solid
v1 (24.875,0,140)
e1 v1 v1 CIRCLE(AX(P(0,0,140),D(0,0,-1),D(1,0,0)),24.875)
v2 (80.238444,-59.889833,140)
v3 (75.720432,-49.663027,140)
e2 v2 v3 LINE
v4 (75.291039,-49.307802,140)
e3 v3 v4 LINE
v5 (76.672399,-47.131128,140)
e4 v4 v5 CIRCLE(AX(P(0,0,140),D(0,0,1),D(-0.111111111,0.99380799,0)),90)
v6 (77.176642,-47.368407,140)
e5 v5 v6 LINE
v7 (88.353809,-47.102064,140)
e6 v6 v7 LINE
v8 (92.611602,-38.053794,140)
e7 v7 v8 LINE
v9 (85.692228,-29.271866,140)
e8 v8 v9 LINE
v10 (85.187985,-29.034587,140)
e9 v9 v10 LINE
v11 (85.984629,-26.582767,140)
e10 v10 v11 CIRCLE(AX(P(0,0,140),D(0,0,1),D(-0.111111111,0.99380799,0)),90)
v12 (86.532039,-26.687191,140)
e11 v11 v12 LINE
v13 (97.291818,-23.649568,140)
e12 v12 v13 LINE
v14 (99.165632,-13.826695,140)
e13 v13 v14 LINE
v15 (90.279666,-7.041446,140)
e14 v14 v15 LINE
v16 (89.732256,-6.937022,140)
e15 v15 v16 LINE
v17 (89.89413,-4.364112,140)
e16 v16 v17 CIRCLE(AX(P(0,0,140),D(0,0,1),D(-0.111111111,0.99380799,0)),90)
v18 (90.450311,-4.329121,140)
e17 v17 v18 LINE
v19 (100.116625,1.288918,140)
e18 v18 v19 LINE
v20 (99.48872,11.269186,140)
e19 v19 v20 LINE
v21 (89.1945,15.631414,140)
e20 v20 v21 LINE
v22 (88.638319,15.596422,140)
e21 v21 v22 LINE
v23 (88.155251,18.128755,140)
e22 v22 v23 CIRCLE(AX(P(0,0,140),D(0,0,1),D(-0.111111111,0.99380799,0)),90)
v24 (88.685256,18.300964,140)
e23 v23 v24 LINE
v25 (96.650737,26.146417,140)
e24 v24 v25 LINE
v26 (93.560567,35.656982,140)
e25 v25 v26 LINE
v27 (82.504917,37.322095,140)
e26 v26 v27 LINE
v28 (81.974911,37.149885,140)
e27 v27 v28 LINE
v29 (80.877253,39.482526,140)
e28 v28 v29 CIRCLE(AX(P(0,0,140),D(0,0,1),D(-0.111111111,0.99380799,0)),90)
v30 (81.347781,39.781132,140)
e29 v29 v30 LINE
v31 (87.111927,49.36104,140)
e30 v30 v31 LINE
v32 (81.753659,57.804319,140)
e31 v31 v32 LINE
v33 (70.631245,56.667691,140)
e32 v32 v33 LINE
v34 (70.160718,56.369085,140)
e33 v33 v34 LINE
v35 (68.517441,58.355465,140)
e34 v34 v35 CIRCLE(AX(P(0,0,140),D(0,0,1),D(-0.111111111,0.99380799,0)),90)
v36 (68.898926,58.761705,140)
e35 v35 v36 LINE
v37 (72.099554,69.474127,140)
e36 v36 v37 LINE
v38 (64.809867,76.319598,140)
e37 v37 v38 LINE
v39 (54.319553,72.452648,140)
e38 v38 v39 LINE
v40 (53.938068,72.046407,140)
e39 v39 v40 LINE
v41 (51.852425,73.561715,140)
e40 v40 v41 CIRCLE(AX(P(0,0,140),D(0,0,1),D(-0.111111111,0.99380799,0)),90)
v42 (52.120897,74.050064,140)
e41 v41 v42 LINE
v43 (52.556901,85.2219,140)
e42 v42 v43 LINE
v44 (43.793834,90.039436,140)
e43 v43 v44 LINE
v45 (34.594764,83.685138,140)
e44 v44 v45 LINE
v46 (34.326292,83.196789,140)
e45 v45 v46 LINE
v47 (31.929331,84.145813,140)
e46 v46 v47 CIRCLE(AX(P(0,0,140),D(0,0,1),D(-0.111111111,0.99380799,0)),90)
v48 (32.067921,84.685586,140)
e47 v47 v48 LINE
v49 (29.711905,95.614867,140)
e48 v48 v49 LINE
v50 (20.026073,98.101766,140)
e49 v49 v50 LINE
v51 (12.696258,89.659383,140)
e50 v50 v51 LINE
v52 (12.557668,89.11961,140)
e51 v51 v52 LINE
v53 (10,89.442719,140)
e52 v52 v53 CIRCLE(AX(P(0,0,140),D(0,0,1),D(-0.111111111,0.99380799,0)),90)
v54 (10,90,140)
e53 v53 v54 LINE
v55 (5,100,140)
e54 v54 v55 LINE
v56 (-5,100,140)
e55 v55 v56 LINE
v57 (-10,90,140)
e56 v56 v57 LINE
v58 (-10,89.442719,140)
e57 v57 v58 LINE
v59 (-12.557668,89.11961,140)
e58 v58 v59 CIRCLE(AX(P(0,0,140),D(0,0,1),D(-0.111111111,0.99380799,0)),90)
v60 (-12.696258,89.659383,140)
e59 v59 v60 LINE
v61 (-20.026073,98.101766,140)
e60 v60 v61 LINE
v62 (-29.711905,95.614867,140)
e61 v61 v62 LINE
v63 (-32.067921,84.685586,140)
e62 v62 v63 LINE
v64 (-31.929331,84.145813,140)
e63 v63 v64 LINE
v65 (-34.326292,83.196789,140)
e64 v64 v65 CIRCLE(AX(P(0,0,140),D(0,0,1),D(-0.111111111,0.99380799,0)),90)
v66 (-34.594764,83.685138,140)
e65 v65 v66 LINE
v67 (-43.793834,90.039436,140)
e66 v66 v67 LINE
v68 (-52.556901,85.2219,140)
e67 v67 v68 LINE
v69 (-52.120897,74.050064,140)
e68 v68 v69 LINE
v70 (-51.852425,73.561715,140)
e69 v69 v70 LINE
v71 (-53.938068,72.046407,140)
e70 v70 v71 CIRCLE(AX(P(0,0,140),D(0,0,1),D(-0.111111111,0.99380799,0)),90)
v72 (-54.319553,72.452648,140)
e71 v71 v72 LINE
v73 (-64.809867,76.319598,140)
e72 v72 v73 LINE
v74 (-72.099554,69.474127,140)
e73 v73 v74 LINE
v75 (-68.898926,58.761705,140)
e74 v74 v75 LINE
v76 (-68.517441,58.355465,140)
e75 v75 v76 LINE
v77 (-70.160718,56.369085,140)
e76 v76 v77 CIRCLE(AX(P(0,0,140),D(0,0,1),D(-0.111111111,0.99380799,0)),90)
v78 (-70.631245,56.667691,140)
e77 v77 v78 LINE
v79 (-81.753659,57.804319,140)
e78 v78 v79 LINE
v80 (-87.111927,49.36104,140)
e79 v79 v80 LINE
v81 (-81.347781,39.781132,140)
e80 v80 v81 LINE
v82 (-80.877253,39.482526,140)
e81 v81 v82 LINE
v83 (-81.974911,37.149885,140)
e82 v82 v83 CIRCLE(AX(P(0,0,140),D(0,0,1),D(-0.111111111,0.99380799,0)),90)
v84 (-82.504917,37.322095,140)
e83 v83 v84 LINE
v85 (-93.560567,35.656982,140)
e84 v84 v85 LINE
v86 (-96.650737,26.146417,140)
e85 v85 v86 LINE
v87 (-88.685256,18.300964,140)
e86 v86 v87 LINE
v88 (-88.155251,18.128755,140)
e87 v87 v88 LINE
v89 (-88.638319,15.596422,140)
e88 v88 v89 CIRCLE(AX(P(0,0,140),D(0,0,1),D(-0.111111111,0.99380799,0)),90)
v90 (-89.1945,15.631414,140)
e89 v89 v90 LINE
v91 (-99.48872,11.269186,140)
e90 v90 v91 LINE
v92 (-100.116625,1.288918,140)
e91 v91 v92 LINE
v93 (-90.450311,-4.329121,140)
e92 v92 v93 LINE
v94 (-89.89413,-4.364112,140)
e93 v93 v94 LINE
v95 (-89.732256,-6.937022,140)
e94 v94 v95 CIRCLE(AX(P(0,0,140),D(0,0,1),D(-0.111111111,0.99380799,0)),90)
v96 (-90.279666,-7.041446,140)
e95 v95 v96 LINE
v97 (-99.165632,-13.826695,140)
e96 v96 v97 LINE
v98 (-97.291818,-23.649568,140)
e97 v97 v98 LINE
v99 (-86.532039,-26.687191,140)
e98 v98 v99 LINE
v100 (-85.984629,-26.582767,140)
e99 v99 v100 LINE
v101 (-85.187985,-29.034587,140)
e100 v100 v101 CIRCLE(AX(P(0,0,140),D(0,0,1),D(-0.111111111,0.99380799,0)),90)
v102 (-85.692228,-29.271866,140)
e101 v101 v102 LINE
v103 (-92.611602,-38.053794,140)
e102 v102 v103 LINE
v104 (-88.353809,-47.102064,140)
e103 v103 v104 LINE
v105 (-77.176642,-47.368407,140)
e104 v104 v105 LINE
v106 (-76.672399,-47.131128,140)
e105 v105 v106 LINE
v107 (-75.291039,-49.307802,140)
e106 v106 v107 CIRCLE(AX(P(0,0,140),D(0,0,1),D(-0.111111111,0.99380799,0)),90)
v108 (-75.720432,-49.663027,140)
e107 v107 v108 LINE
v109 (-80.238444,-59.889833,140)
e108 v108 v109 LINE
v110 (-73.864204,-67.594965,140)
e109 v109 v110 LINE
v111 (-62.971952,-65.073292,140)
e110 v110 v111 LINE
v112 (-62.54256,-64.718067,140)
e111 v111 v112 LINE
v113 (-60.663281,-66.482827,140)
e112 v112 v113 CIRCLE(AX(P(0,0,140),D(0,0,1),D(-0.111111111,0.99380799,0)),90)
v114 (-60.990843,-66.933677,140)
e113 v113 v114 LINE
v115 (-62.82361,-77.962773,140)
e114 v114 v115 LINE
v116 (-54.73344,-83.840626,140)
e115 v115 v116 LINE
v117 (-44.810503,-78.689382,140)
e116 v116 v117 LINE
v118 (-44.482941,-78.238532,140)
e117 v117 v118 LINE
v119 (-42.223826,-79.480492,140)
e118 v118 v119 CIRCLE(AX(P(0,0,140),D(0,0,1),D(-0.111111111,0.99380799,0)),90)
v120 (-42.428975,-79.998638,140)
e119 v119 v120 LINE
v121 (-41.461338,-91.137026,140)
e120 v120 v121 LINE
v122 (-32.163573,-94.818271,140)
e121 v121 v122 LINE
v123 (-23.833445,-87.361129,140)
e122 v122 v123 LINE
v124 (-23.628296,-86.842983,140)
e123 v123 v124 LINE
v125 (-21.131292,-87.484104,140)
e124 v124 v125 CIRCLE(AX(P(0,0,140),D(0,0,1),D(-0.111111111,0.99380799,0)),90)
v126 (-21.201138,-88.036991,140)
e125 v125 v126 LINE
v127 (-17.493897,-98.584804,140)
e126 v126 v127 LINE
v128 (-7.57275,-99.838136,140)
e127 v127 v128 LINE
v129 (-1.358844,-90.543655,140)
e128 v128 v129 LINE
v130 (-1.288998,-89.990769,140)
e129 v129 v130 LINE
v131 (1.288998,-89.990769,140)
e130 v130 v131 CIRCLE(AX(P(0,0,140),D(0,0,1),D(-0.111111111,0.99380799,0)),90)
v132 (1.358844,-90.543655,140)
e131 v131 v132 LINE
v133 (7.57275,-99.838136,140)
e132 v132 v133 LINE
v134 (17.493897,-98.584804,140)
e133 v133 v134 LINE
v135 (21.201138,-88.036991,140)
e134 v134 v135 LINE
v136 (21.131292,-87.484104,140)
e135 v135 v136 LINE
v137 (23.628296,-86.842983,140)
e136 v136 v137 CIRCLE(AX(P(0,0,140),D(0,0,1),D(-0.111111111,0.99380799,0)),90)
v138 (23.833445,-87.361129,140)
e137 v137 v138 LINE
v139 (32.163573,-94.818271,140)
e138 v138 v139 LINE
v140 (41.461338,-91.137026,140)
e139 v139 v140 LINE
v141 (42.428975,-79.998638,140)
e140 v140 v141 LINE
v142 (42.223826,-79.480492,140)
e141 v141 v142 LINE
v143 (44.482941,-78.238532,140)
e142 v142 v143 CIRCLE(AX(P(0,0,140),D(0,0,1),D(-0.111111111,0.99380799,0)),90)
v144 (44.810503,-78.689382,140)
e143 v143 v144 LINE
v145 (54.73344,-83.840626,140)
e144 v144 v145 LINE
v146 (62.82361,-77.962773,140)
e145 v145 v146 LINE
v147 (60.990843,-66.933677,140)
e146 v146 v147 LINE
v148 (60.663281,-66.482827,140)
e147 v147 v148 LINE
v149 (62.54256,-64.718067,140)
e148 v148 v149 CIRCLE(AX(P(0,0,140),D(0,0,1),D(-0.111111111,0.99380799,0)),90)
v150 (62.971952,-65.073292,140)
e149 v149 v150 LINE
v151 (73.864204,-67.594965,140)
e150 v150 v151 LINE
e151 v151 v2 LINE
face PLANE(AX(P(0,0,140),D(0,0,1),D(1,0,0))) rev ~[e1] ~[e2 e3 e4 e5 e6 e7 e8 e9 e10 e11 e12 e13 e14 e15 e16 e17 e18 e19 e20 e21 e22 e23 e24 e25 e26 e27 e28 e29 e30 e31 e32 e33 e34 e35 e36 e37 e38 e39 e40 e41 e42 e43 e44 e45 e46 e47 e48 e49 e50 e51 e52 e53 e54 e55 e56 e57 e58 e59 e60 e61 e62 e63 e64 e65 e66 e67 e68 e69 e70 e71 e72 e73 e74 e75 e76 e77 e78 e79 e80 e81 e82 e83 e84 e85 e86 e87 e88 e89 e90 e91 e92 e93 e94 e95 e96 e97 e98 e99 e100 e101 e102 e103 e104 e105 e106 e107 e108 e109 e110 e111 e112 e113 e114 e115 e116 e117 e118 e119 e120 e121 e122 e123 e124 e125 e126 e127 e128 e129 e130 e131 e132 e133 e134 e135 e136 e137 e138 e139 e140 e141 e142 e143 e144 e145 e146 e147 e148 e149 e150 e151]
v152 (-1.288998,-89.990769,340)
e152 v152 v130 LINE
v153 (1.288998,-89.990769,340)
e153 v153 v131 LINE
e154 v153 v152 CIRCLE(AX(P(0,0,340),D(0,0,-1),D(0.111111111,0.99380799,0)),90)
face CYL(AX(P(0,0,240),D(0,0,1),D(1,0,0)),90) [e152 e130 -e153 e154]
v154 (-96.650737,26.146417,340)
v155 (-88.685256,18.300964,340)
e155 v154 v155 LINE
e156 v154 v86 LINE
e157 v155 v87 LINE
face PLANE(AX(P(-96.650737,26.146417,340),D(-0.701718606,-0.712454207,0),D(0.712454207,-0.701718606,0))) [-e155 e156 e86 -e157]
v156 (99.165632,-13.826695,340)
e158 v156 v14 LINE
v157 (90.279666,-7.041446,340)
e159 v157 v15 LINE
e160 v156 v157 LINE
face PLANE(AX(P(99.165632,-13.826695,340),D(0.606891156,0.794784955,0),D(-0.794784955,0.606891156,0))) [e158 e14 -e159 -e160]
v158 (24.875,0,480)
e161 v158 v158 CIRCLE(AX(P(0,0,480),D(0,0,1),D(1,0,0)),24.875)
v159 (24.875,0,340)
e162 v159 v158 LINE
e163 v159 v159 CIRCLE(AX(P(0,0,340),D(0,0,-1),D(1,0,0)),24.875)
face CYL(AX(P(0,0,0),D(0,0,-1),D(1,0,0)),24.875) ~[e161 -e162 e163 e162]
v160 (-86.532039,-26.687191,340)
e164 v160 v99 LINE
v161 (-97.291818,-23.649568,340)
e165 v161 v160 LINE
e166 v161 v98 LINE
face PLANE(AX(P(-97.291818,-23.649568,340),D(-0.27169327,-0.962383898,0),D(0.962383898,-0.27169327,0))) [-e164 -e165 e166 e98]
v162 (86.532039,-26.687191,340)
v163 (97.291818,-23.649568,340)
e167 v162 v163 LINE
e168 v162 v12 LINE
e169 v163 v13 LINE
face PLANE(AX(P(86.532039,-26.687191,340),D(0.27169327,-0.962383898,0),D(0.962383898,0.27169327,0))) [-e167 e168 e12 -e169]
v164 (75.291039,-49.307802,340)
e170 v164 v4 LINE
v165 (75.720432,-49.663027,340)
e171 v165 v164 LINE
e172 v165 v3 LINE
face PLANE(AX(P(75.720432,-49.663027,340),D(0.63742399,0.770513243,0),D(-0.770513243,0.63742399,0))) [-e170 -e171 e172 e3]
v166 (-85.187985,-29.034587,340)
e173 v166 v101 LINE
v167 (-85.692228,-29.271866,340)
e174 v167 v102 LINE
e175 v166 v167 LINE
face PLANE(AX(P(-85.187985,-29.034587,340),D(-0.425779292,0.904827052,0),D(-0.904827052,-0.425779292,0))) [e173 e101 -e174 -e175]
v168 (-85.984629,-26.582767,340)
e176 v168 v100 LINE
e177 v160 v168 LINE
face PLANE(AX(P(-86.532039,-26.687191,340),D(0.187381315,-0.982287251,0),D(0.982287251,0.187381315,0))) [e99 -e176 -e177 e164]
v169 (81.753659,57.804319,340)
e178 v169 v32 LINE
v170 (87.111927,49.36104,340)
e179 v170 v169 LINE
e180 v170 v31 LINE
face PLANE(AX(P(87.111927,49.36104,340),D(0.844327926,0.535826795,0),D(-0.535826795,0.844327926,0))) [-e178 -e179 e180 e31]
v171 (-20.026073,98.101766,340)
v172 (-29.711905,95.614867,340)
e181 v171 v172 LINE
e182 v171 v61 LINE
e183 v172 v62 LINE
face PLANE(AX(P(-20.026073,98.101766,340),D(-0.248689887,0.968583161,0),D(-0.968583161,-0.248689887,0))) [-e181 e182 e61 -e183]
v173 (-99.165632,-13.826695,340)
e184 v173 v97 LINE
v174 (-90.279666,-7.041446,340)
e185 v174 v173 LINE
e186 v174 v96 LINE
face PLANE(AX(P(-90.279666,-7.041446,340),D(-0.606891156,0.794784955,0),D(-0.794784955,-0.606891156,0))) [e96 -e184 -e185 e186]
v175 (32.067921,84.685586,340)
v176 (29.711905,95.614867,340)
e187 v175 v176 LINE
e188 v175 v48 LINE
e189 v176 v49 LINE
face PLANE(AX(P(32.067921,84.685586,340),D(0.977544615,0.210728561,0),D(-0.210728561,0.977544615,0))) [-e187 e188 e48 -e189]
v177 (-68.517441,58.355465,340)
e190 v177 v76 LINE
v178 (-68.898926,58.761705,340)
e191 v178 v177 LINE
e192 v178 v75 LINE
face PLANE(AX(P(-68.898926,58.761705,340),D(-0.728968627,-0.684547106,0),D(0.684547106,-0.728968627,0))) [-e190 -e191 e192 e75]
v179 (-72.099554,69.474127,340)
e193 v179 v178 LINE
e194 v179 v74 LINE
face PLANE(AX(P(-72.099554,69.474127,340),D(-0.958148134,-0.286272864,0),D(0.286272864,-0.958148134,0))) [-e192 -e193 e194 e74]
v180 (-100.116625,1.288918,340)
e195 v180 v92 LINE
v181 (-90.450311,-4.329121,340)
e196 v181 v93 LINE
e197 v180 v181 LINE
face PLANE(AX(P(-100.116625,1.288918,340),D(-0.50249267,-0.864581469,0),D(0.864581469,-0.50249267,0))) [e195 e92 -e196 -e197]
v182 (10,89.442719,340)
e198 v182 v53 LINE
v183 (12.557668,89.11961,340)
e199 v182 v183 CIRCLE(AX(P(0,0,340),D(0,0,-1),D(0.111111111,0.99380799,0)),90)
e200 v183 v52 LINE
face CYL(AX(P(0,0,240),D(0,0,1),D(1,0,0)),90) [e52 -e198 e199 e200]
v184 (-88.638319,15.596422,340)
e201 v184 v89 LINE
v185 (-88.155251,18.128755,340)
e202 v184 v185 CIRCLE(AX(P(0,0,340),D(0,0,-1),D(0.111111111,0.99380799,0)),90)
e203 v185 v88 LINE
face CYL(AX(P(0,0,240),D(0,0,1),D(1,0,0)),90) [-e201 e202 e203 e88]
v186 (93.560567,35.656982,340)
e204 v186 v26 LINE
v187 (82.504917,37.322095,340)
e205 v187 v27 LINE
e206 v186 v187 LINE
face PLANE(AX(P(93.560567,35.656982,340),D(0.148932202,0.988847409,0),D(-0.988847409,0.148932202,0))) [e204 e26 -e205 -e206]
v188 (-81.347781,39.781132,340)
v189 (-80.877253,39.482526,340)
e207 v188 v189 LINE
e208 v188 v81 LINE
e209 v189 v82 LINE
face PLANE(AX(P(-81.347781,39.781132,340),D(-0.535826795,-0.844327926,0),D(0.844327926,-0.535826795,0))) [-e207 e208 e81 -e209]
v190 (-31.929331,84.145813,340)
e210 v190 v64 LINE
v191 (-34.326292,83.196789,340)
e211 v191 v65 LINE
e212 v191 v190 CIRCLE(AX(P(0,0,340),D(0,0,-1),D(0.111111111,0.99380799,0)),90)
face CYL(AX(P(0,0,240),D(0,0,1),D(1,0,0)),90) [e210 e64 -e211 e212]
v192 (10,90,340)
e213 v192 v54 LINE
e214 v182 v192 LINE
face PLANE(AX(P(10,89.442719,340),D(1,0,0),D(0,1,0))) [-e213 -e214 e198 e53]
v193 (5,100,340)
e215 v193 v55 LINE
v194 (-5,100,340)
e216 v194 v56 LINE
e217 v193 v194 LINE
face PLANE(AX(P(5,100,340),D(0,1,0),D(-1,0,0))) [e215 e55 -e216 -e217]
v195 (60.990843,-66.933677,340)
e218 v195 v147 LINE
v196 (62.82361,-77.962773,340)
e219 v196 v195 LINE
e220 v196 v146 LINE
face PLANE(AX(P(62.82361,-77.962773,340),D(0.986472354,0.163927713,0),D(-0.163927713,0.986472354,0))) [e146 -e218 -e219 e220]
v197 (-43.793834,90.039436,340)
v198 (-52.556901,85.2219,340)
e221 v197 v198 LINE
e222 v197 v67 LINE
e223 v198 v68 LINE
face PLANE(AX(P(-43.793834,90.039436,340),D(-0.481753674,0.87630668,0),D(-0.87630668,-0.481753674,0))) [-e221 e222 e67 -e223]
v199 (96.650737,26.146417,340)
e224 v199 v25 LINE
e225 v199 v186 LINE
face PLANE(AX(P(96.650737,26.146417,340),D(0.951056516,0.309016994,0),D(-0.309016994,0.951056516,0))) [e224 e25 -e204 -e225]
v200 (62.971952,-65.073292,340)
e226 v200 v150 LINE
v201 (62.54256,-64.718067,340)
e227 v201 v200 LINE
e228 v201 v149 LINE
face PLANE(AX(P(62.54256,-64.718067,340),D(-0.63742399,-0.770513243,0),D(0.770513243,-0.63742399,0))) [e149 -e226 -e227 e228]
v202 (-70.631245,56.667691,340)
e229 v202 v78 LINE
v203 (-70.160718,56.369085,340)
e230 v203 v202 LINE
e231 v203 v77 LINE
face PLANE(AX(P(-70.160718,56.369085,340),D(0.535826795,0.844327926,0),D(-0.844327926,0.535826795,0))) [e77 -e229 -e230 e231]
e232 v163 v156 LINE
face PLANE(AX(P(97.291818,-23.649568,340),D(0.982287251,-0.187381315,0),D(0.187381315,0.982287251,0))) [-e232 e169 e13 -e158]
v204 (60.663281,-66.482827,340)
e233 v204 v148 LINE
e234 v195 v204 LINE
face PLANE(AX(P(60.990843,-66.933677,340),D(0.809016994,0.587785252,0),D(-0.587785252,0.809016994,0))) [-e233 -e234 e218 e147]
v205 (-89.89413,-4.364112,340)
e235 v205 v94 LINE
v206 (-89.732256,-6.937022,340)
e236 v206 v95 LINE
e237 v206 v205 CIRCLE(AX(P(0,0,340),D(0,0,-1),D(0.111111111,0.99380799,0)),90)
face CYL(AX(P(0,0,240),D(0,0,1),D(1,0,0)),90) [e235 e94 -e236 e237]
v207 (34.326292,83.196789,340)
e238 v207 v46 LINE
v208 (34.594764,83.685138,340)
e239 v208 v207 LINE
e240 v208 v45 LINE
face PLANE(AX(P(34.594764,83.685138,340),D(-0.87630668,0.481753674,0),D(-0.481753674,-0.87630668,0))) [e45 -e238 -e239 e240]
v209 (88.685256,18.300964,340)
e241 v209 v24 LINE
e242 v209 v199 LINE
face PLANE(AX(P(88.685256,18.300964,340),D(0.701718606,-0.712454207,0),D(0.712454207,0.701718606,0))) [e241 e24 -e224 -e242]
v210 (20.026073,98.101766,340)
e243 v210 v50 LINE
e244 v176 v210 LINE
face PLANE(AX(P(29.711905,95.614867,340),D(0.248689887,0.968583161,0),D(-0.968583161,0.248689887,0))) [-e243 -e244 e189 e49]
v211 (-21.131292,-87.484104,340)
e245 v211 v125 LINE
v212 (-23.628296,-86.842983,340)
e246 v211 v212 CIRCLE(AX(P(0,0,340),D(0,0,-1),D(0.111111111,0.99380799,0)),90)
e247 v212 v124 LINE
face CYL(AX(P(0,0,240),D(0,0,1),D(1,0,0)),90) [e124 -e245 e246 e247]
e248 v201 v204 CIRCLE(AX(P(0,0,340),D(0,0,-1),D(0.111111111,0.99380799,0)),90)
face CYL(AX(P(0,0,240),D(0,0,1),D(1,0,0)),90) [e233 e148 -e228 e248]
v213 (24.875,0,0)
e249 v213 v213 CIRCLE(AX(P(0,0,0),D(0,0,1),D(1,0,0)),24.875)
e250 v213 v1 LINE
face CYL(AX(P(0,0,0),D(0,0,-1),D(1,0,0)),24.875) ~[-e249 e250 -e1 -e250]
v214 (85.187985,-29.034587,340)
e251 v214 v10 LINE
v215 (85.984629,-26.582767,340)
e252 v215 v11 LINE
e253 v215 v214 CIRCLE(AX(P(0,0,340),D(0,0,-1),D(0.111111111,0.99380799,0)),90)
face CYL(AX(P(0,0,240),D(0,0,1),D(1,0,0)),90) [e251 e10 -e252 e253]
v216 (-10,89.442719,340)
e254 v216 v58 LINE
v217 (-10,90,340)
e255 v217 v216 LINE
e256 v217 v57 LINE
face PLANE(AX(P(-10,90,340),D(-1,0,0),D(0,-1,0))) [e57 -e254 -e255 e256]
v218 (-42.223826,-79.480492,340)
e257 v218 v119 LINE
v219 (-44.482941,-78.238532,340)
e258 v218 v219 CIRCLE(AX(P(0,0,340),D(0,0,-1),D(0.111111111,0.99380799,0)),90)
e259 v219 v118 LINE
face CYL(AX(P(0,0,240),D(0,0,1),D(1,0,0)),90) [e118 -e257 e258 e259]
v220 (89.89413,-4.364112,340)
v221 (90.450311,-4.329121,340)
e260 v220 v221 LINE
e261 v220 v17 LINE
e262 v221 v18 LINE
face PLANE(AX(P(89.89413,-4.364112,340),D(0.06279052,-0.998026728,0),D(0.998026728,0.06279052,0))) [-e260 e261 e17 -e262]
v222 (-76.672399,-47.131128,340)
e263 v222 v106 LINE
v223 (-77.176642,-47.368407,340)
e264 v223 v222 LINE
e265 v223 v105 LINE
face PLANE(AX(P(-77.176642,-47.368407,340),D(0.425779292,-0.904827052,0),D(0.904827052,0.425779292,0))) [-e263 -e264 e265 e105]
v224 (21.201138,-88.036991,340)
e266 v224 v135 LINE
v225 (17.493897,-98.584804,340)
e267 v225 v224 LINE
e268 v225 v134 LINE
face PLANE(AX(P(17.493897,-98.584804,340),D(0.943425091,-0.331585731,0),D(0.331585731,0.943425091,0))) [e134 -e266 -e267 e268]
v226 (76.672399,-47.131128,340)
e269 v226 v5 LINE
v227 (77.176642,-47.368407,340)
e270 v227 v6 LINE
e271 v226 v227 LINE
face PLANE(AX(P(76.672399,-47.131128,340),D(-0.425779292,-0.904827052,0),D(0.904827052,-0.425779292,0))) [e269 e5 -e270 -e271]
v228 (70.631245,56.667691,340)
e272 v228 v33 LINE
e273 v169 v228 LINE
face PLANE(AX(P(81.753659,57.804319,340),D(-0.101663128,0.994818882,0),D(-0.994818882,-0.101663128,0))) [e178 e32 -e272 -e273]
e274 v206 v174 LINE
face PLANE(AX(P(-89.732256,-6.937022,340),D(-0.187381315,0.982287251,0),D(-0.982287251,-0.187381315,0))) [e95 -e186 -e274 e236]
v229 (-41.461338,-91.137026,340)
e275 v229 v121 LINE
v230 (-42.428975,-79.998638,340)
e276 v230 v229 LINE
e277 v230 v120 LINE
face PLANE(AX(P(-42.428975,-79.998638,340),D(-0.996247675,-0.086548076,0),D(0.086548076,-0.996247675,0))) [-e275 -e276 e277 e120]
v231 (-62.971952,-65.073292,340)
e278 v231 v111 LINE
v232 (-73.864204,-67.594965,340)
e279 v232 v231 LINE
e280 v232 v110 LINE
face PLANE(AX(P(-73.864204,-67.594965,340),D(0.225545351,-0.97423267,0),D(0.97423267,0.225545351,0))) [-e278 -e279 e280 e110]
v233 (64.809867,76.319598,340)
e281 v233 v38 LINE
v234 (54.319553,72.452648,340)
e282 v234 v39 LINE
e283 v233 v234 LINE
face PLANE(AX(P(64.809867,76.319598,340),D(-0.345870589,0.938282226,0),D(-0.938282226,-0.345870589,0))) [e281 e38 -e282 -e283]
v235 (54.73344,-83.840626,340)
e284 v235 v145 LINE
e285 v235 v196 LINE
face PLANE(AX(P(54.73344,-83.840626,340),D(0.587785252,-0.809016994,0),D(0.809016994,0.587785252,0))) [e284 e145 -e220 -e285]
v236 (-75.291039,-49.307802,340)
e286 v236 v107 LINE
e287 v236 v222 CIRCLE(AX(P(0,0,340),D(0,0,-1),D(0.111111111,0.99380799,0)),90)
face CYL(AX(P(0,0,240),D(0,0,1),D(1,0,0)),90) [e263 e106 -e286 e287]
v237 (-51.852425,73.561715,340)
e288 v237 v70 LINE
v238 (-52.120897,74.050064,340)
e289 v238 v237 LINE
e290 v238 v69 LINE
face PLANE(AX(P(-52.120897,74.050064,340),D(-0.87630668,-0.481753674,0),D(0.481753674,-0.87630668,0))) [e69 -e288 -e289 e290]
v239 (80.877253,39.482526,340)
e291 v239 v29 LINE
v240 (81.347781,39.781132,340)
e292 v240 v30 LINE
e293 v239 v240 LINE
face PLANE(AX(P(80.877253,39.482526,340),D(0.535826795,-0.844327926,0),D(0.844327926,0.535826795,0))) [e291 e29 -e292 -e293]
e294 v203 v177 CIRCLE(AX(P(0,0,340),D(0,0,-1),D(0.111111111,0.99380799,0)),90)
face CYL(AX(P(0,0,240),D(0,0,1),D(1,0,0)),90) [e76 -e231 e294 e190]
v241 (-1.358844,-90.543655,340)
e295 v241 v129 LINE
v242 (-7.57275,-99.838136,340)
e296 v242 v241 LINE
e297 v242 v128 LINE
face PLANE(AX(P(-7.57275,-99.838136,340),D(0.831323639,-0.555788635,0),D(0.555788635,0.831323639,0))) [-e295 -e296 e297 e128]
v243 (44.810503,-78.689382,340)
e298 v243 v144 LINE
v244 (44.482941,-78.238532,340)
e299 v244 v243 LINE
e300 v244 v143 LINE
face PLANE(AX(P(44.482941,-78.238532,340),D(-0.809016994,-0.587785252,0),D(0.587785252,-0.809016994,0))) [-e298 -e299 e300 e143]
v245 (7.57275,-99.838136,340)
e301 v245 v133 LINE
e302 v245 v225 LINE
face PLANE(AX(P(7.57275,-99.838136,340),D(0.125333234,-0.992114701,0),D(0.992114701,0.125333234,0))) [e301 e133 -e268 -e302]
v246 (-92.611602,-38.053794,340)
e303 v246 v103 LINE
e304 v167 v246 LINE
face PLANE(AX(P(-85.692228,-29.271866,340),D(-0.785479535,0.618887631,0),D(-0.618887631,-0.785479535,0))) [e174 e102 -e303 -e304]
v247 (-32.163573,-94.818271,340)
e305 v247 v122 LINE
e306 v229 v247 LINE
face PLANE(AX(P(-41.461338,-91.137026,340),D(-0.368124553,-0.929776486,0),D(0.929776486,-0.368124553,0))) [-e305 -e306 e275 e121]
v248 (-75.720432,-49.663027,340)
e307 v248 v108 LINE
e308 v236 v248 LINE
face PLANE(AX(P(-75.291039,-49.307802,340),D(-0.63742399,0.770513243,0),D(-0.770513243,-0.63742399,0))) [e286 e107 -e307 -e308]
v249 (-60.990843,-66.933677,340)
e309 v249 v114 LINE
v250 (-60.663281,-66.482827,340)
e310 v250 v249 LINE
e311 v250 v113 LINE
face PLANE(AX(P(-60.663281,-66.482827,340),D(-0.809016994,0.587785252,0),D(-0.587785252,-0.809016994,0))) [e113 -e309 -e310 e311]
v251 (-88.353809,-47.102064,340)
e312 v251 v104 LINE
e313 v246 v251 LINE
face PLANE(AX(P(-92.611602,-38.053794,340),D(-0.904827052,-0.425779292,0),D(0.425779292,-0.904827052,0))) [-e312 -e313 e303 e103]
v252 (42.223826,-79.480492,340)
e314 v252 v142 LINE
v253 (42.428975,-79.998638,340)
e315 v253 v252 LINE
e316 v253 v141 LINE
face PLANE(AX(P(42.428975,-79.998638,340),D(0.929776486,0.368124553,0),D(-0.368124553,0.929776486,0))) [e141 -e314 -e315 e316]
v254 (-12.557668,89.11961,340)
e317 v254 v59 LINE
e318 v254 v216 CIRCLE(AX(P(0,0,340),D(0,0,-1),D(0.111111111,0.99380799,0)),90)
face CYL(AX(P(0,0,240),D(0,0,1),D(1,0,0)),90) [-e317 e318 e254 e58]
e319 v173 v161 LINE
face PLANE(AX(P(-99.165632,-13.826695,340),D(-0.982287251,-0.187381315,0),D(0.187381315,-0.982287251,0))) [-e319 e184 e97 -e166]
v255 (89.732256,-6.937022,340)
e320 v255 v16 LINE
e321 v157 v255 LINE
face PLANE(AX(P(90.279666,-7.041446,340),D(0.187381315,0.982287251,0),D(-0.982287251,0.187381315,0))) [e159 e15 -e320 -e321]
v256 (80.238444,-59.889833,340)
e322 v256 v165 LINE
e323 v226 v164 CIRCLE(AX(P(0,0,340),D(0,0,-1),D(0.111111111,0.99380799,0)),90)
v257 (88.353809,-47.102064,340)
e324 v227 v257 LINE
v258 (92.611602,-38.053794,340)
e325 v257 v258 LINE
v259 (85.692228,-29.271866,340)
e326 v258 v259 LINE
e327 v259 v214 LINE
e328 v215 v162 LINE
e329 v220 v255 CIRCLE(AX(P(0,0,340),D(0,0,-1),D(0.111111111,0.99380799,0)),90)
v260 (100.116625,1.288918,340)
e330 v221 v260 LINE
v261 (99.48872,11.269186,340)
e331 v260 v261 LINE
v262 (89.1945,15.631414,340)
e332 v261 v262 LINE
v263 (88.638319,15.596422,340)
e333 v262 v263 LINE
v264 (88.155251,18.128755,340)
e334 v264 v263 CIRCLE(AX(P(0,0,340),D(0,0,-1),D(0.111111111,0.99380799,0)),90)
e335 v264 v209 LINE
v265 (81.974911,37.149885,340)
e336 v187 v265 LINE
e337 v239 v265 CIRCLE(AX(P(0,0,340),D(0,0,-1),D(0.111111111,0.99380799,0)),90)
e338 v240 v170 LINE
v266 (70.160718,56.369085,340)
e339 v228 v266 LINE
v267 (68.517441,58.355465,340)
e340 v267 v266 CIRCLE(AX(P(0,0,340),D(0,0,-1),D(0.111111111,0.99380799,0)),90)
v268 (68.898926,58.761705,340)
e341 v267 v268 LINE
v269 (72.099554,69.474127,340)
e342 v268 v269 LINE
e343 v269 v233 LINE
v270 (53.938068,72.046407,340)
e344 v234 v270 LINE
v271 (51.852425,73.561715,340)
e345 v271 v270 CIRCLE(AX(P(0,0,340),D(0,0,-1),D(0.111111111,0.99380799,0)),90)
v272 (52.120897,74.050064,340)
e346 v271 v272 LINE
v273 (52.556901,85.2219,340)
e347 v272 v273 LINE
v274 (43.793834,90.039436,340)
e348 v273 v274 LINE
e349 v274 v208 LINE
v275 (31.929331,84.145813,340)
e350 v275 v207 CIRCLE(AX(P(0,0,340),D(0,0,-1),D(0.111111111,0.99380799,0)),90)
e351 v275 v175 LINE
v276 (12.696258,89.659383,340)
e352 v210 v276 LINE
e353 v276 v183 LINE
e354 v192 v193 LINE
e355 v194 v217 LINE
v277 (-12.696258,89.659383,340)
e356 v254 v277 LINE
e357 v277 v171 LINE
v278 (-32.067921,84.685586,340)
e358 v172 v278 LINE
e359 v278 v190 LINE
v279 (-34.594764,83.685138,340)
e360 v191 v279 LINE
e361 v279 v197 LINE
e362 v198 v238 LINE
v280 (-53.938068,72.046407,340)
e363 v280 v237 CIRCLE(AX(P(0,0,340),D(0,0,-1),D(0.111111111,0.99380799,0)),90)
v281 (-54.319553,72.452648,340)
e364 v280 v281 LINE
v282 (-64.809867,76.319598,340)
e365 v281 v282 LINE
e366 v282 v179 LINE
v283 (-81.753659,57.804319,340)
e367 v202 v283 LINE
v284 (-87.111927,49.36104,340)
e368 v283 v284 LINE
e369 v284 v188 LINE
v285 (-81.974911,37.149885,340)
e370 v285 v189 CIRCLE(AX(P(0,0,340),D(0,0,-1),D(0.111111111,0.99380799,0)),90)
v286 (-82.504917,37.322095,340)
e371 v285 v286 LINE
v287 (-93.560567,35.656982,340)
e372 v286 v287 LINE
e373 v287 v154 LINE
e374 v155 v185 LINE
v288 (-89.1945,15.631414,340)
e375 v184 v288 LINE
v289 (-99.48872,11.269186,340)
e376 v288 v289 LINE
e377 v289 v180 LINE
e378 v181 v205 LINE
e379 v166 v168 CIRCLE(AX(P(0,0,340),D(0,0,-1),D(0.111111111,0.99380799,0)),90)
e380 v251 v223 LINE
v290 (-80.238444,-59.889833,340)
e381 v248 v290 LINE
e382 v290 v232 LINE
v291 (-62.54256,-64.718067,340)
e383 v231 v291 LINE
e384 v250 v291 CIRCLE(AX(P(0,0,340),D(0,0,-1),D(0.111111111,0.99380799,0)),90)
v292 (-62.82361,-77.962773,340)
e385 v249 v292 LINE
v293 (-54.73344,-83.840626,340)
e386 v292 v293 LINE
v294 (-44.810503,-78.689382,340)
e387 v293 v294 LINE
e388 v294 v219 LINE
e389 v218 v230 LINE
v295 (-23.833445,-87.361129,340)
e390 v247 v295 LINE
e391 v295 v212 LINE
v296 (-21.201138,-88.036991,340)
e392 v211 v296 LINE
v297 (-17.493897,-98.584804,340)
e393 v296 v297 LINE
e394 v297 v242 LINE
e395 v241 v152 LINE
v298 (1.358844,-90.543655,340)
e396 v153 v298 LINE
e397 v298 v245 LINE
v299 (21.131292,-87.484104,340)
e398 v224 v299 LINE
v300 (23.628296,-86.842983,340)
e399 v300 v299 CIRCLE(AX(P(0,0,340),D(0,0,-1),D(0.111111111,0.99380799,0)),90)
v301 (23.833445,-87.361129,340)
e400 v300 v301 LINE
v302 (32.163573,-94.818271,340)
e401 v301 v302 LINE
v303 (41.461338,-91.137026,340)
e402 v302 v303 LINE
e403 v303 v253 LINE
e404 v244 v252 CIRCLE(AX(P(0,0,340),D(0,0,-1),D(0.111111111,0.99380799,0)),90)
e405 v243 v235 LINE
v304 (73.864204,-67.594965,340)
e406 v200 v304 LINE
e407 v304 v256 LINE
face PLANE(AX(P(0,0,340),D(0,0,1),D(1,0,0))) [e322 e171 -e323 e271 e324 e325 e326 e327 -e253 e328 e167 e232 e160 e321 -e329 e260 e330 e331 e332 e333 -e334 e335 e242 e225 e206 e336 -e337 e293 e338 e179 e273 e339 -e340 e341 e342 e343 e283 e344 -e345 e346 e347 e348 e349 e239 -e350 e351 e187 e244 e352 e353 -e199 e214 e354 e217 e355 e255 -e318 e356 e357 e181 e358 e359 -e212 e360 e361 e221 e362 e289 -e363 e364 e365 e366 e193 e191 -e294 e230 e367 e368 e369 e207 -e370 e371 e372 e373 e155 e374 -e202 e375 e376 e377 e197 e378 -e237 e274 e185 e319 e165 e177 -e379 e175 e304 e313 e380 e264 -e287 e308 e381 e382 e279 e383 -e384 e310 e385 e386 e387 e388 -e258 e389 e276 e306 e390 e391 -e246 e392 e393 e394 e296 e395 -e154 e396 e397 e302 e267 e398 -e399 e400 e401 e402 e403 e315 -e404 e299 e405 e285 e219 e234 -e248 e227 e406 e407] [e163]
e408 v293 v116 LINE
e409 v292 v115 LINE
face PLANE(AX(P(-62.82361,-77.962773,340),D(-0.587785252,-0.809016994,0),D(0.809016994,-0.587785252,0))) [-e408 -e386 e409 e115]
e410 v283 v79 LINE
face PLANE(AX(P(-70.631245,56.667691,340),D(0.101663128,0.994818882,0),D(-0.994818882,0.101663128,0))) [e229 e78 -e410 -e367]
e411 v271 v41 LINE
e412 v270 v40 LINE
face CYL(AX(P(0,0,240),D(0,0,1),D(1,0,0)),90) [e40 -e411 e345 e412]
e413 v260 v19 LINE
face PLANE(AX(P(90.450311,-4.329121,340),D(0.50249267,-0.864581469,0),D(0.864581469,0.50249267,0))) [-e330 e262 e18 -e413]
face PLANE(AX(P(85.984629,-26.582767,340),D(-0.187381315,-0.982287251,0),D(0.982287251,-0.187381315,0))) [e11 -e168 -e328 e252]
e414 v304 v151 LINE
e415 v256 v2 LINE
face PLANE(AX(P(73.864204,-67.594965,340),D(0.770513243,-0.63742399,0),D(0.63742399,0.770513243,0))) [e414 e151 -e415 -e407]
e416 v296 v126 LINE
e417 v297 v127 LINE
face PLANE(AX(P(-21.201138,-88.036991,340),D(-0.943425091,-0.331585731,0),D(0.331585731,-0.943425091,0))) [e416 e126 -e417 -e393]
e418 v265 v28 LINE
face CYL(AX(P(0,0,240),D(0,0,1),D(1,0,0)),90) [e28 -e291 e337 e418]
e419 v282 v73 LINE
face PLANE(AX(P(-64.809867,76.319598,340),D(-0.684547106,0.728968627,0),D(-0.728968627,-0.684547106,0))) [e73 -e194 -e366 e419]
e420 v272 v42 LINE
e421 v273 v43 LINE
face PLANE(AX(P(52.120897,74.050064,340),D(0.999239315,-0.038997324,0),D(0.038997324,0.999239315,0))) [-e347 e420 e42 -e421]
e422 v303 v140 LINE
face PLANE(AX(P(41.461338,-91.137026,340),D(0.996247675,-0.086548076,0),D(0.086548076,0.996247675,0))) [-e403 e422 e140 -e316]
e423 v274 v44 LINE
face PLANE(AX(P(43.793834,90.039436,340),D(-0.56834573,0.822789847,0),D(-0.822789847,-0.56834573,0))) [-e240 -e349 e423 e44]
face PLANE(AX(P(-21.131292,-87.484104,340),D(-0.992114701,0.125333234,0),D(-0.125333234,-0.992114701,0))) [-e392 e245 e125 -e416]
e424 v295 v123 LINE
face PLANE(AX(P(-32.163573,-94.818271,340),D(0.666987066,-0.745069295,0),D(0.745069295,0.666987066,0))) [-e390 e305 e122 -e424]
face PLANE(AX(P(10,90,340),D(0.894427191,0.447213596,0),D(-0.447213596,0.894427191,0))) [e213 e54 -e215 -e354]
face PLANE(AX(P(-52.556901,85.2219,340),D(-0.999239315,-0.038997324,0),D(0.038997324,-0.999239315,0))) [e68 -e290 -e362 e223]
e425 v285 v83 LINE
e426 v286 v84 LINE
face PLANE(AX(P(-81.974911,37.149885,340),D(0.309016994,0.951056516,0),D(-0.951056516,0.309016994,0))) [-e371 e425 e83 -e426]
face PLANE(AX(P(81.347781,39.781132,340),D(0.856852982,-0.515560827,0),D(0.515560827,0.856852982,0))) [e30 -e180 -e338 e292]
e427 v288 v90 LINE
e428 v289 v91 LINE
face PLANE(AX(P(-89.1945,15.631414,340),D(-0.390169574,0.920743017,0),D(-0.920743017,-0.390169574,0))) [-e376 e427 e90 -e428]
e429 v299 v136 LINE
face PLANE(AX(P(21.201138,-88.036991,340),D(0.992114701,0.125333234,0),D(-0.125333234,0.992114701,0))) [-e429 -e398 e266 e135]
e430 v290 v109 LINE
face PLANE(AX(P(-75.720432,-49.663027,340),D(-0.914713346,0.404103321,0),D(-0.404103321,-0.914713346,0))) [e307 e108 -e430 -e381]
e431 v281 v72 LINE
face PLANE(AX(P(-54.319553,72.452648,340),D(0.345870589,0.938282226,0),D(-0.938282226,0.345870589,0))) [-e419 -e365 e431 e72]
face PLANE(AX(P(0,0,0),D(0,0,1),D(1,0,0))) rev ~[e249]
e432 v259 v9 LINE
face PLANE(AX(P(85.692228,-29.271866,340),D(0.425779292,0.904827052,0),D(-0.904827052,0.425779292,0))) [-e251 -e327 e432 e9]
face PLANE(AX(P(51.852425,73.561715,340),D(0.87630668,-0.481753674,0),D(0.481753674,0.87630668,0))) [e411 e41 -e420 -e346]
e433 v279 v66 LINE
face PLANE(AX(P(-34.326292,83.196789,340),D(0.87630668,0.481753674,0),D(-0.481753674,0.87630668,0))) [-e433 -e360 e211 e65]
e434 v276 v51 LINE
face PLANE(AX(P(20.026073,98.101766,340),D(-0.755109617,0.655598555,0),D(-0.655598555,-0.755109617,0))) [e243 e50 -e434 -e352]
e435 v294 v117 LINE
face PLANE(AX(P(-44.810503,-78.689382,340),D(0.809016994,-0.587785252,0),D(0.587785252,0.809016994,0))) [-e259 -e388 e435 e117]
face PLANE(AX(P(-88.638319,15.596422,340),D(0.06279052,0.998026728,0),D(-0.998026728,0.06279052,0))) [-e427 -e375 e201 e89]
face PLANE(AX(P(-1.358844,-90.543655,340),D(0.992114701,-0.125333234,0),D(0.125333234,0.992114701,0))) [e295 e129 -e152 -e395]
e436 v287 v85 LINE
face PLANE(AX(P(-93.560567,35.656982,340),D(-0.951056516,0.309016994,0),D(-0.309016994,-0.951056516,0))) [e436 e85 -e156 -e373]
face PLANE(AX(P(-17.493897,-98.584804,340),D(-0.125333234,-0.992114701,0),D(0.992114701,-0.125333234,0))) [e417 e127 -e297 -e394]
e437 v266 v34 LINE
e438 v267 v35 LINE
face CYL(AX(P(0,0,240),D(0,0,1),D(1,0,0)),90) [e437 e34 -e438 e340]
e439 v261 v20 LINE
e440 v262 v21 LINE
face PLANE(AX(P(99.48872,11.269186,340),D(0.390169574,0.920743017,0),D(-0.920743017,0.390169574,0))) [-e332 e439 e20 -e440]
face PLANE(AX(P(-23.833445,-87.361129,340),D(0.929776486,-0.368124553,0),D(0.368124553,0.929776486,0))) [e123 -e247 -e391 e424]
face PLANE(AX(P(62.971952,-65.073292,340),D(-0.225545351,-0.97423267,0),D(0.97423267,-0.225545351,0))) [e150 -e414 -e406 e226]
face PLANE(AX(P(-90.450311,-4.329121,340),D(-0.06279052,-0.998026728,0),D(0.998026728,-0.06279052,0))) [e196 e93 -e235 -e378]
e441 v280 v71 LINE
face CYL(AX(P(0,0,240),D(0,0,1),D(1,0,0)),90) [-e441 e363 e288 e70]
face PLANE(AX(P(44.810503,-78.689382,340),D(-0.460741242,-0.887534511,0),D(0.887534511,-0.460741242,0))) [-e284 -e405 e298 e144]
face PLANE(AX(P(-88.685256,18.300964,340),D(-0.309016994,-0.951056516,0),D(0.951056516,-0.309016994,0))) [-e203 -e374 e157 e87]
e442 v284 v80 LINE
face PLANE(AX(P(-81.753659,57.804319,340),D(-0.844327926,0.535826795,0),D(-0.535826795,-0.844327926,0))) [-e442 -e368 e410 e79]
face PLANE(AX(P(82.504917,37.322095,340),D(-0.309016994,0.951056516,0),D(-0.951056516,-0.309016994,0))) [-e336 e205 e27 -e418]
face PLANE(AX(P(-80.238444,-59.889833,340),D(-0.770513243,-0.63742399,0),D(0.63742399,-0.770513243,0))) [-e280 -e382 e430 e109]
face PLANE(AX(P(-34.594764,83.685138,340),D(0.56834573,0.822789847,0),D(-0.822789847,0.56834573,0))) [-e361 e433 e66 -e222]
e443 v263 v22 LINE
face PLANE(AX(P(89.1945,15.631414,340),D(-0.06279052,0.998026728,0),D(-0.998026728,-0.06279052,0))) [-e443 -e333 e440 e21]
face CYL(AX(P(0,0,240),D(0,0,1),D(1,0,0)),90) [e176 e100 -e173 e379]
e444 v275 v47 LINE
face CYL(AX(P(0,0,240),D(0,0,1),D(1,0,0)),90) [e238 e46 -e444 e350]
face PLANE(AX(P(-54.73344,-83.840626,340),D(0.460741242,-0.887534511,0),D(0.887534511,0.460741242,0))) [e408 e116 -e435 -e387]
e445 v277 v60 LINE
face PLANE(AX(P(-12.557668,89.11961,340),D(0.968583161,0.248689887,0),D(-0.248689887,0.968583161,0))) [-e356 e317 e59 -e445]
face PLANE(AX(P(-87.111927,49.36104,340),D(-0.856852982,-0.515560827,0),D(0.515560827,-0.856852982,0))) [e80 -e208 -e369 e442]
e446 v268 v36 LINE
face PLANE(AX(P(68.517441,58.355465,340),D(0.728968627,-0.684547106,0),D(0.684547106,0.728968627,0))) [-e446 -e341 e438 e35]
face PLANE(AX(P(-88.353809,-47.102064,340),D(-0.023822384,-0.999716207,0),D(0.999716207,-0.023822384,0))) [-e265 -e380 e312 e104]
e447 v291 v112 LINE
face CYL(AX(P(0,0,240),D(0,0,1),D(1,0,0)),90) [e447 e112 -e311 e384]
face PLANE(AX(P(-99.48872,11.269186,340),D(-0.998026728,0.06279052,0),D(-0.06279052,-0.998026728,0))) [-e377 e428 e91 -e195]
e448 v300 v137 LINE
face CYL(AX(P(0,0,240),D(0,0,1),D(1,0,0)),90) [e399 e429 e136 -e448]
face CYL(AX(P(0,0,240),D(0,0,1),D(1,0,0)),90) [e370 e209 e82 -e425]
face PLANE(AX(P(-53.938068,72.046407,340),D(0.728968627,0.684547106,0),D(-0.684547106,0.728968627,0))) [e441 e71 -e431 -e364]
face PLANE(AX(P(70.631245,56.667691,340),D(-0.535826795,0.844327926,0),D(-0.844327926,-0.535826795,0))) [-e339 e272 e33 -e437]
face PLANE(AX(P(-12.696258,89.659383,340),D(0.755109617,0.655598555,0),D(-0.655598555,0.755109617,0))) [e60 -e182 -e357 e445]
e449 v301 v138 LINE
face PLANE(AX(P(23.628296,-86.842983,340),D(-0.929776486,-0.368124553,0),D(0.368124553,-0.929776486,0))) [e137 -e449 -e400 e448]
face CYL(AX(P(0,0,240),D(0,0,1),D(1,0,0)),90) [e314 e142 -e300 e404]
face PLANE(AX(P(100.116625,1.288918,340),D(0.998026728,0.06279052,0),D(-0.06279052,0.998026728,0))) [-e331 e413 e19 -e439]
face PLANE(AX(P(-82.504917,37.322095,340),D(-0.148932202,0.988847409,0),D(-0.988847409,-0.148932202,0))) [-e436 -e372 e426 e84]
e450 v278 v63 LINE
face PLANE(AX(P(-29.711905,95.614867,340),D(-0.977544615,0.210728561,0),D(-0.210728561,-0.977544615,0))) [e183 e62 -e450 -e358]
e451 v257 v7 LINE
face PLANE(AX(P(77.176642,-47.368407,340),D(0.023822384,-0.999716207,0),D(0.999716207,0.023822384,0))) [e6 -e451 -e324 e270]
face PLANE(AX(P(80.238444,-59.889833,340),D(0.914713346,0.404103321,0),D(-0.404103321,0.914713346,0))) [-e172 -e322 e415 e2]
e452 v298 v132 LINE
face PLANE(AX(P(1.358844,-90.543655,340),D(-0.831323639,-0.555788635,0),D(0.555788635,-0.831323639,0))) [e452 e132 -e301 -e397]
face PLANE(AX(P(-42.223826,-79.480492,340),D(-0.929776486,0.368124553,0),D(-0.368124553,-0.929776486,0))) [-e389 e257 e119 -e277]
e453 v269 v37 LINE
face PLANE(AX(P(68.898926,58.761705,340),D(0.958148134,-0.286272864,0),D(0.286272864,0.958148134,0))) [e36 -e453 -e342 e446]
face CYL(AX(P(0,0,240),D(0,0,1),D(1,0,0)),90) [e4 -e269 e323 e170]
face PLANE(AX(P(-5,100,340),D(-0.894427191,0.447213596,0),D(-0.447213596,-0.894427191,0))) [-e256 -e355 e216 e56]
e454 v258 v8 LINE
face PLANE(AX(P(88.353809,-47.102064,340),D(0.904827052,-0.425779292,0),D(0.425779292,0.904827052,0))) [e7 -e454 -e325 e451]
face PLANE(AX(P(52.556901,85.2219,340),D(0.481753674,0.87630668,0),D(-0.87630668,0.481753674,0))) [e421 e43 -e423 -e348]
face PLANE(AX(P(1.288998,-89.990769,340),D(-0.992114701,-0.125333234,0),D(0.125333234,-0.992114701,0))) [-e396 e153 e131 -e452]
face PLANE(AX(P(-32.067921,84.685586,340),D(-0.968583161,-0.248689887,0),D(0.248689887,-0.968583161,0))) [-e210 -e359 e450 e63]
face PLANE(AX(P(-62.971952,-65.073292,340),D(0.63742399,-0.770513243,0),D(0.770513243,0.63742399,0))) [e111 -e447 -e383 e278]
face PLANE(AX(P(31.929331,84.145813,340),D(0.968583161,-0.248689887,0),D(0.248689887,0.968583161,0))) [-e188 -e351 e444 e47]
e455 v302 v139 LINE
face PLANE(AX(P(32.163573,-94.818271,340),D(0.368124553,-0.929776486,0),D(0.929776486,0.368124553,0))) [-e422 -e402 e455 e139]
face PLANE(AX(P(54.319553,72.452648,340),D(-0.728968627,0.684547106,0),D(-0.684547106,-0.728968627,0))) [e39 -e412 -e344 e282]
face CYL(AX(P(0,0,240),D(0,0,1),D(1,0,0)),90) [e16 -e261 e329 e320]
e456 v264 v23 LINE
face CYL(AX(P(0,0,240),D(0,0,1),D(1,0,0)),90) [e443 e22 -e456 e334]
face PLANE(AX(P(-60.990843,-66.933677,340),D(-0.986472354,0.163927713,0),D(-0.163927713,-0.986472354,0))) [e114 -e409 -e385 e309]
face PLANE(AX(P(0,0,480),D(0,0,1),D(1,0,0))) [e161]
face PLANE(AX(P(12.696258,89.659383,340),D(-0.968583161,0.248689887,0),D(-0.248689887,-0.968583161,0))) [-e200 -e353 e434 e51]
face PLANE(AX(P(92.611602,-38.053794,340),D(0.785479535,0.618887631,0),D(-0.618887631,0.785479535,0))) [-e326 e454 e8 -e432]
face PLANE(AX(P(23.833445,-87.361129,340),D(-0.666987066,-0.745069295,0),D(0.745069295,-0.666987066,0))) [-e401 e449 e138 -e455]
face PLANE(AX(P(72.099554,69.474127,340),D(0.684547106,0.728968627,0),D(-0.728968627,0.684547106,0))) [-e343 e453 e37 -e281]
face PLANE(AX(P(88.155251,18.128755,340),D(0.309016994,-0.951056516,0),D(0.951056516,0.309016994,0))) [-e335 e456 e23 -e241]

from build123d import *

# Parameters (mm, degrees)
SKETCH1_R           = 24.875
BOSS_EXTRUDE1_DEPTH = 480
SKETCH2_R           = 90
BOSS_EXTRUDE2_DEPTH = 100
BOSS_EXTRUDE3_DEPTH = 200
CIRPATTERN1_COUNT   = 25


with BuildPart() as part:
    # Sketch1 → Boss-Extrude1 (new body)
    with BuildSketch(Plane.XY):
        Circle(SKETCH1_R)
    extrude(amount=BOSS_EXTRUDE1_DEPTH)

    # Sketch2 → Boss-Extrude2 (add, symmetric)
    with BuildSketch(Plane.XY.offset(240)):
        Circle(SKETCH2_R)
    extrude(amount=BOSS_EXTRUDE2_DEPTH, both=True)

    # Sketch3 → Boss-Extrude3 (add)
    with BuildSketch(Plane.XY.offset(340)):
        with BuildLine():
            ThreePointArc((10, 89.4427191), (0, 90), (-10, 89.4427191))
            Line((-10, 89.4427191), (-10, 80))
            Line((-10, 80), (10, 80))
            Line((10, 80), (10, 89.4427191))
        make_face()
        with BuildLine():
            Line((-10, 80), (-10, 89.4427191))
            ThreePointArc((-10, 89.4427191), (-60, -67.082039325), (90, 0))
            ThreePointArc((90, 0), (67.082039325, 60), (10, 89.4427191))
            Line((10, 89.4427191), (10, 80))
            Line((10, 80), (-10, 80))
        make_face()
        with BuildLine():
            Line((-5, 100), (-10, 90))
            Line((-10, 90), (-10, 89.4427191))
            ThreePointArc((-10, 89.4427191), (0, 90), (10, 89.4427191))
            Line((10, 89.4427191), (10, 90))
            Line((10, 90), (5, 100))
            Line((5, 100), (-5, 100))
        make_face()
    boss_extrude3 = extrude(amount=-BOSS_EXTRUDE3_DEPTH)

    # CirPattern1: Boss-Extrude3 ×25 about axis
    cirpattern1_axis = Axis((0, 0, 0), (0, 0, 1))
    for i in range(1, CIRPATTERN1_COUNT):
        add(boss_extrude3.rotate(cirpattern1_axis, i * 360 / CIRPATTERN1_COUNT))


solid = part.part
